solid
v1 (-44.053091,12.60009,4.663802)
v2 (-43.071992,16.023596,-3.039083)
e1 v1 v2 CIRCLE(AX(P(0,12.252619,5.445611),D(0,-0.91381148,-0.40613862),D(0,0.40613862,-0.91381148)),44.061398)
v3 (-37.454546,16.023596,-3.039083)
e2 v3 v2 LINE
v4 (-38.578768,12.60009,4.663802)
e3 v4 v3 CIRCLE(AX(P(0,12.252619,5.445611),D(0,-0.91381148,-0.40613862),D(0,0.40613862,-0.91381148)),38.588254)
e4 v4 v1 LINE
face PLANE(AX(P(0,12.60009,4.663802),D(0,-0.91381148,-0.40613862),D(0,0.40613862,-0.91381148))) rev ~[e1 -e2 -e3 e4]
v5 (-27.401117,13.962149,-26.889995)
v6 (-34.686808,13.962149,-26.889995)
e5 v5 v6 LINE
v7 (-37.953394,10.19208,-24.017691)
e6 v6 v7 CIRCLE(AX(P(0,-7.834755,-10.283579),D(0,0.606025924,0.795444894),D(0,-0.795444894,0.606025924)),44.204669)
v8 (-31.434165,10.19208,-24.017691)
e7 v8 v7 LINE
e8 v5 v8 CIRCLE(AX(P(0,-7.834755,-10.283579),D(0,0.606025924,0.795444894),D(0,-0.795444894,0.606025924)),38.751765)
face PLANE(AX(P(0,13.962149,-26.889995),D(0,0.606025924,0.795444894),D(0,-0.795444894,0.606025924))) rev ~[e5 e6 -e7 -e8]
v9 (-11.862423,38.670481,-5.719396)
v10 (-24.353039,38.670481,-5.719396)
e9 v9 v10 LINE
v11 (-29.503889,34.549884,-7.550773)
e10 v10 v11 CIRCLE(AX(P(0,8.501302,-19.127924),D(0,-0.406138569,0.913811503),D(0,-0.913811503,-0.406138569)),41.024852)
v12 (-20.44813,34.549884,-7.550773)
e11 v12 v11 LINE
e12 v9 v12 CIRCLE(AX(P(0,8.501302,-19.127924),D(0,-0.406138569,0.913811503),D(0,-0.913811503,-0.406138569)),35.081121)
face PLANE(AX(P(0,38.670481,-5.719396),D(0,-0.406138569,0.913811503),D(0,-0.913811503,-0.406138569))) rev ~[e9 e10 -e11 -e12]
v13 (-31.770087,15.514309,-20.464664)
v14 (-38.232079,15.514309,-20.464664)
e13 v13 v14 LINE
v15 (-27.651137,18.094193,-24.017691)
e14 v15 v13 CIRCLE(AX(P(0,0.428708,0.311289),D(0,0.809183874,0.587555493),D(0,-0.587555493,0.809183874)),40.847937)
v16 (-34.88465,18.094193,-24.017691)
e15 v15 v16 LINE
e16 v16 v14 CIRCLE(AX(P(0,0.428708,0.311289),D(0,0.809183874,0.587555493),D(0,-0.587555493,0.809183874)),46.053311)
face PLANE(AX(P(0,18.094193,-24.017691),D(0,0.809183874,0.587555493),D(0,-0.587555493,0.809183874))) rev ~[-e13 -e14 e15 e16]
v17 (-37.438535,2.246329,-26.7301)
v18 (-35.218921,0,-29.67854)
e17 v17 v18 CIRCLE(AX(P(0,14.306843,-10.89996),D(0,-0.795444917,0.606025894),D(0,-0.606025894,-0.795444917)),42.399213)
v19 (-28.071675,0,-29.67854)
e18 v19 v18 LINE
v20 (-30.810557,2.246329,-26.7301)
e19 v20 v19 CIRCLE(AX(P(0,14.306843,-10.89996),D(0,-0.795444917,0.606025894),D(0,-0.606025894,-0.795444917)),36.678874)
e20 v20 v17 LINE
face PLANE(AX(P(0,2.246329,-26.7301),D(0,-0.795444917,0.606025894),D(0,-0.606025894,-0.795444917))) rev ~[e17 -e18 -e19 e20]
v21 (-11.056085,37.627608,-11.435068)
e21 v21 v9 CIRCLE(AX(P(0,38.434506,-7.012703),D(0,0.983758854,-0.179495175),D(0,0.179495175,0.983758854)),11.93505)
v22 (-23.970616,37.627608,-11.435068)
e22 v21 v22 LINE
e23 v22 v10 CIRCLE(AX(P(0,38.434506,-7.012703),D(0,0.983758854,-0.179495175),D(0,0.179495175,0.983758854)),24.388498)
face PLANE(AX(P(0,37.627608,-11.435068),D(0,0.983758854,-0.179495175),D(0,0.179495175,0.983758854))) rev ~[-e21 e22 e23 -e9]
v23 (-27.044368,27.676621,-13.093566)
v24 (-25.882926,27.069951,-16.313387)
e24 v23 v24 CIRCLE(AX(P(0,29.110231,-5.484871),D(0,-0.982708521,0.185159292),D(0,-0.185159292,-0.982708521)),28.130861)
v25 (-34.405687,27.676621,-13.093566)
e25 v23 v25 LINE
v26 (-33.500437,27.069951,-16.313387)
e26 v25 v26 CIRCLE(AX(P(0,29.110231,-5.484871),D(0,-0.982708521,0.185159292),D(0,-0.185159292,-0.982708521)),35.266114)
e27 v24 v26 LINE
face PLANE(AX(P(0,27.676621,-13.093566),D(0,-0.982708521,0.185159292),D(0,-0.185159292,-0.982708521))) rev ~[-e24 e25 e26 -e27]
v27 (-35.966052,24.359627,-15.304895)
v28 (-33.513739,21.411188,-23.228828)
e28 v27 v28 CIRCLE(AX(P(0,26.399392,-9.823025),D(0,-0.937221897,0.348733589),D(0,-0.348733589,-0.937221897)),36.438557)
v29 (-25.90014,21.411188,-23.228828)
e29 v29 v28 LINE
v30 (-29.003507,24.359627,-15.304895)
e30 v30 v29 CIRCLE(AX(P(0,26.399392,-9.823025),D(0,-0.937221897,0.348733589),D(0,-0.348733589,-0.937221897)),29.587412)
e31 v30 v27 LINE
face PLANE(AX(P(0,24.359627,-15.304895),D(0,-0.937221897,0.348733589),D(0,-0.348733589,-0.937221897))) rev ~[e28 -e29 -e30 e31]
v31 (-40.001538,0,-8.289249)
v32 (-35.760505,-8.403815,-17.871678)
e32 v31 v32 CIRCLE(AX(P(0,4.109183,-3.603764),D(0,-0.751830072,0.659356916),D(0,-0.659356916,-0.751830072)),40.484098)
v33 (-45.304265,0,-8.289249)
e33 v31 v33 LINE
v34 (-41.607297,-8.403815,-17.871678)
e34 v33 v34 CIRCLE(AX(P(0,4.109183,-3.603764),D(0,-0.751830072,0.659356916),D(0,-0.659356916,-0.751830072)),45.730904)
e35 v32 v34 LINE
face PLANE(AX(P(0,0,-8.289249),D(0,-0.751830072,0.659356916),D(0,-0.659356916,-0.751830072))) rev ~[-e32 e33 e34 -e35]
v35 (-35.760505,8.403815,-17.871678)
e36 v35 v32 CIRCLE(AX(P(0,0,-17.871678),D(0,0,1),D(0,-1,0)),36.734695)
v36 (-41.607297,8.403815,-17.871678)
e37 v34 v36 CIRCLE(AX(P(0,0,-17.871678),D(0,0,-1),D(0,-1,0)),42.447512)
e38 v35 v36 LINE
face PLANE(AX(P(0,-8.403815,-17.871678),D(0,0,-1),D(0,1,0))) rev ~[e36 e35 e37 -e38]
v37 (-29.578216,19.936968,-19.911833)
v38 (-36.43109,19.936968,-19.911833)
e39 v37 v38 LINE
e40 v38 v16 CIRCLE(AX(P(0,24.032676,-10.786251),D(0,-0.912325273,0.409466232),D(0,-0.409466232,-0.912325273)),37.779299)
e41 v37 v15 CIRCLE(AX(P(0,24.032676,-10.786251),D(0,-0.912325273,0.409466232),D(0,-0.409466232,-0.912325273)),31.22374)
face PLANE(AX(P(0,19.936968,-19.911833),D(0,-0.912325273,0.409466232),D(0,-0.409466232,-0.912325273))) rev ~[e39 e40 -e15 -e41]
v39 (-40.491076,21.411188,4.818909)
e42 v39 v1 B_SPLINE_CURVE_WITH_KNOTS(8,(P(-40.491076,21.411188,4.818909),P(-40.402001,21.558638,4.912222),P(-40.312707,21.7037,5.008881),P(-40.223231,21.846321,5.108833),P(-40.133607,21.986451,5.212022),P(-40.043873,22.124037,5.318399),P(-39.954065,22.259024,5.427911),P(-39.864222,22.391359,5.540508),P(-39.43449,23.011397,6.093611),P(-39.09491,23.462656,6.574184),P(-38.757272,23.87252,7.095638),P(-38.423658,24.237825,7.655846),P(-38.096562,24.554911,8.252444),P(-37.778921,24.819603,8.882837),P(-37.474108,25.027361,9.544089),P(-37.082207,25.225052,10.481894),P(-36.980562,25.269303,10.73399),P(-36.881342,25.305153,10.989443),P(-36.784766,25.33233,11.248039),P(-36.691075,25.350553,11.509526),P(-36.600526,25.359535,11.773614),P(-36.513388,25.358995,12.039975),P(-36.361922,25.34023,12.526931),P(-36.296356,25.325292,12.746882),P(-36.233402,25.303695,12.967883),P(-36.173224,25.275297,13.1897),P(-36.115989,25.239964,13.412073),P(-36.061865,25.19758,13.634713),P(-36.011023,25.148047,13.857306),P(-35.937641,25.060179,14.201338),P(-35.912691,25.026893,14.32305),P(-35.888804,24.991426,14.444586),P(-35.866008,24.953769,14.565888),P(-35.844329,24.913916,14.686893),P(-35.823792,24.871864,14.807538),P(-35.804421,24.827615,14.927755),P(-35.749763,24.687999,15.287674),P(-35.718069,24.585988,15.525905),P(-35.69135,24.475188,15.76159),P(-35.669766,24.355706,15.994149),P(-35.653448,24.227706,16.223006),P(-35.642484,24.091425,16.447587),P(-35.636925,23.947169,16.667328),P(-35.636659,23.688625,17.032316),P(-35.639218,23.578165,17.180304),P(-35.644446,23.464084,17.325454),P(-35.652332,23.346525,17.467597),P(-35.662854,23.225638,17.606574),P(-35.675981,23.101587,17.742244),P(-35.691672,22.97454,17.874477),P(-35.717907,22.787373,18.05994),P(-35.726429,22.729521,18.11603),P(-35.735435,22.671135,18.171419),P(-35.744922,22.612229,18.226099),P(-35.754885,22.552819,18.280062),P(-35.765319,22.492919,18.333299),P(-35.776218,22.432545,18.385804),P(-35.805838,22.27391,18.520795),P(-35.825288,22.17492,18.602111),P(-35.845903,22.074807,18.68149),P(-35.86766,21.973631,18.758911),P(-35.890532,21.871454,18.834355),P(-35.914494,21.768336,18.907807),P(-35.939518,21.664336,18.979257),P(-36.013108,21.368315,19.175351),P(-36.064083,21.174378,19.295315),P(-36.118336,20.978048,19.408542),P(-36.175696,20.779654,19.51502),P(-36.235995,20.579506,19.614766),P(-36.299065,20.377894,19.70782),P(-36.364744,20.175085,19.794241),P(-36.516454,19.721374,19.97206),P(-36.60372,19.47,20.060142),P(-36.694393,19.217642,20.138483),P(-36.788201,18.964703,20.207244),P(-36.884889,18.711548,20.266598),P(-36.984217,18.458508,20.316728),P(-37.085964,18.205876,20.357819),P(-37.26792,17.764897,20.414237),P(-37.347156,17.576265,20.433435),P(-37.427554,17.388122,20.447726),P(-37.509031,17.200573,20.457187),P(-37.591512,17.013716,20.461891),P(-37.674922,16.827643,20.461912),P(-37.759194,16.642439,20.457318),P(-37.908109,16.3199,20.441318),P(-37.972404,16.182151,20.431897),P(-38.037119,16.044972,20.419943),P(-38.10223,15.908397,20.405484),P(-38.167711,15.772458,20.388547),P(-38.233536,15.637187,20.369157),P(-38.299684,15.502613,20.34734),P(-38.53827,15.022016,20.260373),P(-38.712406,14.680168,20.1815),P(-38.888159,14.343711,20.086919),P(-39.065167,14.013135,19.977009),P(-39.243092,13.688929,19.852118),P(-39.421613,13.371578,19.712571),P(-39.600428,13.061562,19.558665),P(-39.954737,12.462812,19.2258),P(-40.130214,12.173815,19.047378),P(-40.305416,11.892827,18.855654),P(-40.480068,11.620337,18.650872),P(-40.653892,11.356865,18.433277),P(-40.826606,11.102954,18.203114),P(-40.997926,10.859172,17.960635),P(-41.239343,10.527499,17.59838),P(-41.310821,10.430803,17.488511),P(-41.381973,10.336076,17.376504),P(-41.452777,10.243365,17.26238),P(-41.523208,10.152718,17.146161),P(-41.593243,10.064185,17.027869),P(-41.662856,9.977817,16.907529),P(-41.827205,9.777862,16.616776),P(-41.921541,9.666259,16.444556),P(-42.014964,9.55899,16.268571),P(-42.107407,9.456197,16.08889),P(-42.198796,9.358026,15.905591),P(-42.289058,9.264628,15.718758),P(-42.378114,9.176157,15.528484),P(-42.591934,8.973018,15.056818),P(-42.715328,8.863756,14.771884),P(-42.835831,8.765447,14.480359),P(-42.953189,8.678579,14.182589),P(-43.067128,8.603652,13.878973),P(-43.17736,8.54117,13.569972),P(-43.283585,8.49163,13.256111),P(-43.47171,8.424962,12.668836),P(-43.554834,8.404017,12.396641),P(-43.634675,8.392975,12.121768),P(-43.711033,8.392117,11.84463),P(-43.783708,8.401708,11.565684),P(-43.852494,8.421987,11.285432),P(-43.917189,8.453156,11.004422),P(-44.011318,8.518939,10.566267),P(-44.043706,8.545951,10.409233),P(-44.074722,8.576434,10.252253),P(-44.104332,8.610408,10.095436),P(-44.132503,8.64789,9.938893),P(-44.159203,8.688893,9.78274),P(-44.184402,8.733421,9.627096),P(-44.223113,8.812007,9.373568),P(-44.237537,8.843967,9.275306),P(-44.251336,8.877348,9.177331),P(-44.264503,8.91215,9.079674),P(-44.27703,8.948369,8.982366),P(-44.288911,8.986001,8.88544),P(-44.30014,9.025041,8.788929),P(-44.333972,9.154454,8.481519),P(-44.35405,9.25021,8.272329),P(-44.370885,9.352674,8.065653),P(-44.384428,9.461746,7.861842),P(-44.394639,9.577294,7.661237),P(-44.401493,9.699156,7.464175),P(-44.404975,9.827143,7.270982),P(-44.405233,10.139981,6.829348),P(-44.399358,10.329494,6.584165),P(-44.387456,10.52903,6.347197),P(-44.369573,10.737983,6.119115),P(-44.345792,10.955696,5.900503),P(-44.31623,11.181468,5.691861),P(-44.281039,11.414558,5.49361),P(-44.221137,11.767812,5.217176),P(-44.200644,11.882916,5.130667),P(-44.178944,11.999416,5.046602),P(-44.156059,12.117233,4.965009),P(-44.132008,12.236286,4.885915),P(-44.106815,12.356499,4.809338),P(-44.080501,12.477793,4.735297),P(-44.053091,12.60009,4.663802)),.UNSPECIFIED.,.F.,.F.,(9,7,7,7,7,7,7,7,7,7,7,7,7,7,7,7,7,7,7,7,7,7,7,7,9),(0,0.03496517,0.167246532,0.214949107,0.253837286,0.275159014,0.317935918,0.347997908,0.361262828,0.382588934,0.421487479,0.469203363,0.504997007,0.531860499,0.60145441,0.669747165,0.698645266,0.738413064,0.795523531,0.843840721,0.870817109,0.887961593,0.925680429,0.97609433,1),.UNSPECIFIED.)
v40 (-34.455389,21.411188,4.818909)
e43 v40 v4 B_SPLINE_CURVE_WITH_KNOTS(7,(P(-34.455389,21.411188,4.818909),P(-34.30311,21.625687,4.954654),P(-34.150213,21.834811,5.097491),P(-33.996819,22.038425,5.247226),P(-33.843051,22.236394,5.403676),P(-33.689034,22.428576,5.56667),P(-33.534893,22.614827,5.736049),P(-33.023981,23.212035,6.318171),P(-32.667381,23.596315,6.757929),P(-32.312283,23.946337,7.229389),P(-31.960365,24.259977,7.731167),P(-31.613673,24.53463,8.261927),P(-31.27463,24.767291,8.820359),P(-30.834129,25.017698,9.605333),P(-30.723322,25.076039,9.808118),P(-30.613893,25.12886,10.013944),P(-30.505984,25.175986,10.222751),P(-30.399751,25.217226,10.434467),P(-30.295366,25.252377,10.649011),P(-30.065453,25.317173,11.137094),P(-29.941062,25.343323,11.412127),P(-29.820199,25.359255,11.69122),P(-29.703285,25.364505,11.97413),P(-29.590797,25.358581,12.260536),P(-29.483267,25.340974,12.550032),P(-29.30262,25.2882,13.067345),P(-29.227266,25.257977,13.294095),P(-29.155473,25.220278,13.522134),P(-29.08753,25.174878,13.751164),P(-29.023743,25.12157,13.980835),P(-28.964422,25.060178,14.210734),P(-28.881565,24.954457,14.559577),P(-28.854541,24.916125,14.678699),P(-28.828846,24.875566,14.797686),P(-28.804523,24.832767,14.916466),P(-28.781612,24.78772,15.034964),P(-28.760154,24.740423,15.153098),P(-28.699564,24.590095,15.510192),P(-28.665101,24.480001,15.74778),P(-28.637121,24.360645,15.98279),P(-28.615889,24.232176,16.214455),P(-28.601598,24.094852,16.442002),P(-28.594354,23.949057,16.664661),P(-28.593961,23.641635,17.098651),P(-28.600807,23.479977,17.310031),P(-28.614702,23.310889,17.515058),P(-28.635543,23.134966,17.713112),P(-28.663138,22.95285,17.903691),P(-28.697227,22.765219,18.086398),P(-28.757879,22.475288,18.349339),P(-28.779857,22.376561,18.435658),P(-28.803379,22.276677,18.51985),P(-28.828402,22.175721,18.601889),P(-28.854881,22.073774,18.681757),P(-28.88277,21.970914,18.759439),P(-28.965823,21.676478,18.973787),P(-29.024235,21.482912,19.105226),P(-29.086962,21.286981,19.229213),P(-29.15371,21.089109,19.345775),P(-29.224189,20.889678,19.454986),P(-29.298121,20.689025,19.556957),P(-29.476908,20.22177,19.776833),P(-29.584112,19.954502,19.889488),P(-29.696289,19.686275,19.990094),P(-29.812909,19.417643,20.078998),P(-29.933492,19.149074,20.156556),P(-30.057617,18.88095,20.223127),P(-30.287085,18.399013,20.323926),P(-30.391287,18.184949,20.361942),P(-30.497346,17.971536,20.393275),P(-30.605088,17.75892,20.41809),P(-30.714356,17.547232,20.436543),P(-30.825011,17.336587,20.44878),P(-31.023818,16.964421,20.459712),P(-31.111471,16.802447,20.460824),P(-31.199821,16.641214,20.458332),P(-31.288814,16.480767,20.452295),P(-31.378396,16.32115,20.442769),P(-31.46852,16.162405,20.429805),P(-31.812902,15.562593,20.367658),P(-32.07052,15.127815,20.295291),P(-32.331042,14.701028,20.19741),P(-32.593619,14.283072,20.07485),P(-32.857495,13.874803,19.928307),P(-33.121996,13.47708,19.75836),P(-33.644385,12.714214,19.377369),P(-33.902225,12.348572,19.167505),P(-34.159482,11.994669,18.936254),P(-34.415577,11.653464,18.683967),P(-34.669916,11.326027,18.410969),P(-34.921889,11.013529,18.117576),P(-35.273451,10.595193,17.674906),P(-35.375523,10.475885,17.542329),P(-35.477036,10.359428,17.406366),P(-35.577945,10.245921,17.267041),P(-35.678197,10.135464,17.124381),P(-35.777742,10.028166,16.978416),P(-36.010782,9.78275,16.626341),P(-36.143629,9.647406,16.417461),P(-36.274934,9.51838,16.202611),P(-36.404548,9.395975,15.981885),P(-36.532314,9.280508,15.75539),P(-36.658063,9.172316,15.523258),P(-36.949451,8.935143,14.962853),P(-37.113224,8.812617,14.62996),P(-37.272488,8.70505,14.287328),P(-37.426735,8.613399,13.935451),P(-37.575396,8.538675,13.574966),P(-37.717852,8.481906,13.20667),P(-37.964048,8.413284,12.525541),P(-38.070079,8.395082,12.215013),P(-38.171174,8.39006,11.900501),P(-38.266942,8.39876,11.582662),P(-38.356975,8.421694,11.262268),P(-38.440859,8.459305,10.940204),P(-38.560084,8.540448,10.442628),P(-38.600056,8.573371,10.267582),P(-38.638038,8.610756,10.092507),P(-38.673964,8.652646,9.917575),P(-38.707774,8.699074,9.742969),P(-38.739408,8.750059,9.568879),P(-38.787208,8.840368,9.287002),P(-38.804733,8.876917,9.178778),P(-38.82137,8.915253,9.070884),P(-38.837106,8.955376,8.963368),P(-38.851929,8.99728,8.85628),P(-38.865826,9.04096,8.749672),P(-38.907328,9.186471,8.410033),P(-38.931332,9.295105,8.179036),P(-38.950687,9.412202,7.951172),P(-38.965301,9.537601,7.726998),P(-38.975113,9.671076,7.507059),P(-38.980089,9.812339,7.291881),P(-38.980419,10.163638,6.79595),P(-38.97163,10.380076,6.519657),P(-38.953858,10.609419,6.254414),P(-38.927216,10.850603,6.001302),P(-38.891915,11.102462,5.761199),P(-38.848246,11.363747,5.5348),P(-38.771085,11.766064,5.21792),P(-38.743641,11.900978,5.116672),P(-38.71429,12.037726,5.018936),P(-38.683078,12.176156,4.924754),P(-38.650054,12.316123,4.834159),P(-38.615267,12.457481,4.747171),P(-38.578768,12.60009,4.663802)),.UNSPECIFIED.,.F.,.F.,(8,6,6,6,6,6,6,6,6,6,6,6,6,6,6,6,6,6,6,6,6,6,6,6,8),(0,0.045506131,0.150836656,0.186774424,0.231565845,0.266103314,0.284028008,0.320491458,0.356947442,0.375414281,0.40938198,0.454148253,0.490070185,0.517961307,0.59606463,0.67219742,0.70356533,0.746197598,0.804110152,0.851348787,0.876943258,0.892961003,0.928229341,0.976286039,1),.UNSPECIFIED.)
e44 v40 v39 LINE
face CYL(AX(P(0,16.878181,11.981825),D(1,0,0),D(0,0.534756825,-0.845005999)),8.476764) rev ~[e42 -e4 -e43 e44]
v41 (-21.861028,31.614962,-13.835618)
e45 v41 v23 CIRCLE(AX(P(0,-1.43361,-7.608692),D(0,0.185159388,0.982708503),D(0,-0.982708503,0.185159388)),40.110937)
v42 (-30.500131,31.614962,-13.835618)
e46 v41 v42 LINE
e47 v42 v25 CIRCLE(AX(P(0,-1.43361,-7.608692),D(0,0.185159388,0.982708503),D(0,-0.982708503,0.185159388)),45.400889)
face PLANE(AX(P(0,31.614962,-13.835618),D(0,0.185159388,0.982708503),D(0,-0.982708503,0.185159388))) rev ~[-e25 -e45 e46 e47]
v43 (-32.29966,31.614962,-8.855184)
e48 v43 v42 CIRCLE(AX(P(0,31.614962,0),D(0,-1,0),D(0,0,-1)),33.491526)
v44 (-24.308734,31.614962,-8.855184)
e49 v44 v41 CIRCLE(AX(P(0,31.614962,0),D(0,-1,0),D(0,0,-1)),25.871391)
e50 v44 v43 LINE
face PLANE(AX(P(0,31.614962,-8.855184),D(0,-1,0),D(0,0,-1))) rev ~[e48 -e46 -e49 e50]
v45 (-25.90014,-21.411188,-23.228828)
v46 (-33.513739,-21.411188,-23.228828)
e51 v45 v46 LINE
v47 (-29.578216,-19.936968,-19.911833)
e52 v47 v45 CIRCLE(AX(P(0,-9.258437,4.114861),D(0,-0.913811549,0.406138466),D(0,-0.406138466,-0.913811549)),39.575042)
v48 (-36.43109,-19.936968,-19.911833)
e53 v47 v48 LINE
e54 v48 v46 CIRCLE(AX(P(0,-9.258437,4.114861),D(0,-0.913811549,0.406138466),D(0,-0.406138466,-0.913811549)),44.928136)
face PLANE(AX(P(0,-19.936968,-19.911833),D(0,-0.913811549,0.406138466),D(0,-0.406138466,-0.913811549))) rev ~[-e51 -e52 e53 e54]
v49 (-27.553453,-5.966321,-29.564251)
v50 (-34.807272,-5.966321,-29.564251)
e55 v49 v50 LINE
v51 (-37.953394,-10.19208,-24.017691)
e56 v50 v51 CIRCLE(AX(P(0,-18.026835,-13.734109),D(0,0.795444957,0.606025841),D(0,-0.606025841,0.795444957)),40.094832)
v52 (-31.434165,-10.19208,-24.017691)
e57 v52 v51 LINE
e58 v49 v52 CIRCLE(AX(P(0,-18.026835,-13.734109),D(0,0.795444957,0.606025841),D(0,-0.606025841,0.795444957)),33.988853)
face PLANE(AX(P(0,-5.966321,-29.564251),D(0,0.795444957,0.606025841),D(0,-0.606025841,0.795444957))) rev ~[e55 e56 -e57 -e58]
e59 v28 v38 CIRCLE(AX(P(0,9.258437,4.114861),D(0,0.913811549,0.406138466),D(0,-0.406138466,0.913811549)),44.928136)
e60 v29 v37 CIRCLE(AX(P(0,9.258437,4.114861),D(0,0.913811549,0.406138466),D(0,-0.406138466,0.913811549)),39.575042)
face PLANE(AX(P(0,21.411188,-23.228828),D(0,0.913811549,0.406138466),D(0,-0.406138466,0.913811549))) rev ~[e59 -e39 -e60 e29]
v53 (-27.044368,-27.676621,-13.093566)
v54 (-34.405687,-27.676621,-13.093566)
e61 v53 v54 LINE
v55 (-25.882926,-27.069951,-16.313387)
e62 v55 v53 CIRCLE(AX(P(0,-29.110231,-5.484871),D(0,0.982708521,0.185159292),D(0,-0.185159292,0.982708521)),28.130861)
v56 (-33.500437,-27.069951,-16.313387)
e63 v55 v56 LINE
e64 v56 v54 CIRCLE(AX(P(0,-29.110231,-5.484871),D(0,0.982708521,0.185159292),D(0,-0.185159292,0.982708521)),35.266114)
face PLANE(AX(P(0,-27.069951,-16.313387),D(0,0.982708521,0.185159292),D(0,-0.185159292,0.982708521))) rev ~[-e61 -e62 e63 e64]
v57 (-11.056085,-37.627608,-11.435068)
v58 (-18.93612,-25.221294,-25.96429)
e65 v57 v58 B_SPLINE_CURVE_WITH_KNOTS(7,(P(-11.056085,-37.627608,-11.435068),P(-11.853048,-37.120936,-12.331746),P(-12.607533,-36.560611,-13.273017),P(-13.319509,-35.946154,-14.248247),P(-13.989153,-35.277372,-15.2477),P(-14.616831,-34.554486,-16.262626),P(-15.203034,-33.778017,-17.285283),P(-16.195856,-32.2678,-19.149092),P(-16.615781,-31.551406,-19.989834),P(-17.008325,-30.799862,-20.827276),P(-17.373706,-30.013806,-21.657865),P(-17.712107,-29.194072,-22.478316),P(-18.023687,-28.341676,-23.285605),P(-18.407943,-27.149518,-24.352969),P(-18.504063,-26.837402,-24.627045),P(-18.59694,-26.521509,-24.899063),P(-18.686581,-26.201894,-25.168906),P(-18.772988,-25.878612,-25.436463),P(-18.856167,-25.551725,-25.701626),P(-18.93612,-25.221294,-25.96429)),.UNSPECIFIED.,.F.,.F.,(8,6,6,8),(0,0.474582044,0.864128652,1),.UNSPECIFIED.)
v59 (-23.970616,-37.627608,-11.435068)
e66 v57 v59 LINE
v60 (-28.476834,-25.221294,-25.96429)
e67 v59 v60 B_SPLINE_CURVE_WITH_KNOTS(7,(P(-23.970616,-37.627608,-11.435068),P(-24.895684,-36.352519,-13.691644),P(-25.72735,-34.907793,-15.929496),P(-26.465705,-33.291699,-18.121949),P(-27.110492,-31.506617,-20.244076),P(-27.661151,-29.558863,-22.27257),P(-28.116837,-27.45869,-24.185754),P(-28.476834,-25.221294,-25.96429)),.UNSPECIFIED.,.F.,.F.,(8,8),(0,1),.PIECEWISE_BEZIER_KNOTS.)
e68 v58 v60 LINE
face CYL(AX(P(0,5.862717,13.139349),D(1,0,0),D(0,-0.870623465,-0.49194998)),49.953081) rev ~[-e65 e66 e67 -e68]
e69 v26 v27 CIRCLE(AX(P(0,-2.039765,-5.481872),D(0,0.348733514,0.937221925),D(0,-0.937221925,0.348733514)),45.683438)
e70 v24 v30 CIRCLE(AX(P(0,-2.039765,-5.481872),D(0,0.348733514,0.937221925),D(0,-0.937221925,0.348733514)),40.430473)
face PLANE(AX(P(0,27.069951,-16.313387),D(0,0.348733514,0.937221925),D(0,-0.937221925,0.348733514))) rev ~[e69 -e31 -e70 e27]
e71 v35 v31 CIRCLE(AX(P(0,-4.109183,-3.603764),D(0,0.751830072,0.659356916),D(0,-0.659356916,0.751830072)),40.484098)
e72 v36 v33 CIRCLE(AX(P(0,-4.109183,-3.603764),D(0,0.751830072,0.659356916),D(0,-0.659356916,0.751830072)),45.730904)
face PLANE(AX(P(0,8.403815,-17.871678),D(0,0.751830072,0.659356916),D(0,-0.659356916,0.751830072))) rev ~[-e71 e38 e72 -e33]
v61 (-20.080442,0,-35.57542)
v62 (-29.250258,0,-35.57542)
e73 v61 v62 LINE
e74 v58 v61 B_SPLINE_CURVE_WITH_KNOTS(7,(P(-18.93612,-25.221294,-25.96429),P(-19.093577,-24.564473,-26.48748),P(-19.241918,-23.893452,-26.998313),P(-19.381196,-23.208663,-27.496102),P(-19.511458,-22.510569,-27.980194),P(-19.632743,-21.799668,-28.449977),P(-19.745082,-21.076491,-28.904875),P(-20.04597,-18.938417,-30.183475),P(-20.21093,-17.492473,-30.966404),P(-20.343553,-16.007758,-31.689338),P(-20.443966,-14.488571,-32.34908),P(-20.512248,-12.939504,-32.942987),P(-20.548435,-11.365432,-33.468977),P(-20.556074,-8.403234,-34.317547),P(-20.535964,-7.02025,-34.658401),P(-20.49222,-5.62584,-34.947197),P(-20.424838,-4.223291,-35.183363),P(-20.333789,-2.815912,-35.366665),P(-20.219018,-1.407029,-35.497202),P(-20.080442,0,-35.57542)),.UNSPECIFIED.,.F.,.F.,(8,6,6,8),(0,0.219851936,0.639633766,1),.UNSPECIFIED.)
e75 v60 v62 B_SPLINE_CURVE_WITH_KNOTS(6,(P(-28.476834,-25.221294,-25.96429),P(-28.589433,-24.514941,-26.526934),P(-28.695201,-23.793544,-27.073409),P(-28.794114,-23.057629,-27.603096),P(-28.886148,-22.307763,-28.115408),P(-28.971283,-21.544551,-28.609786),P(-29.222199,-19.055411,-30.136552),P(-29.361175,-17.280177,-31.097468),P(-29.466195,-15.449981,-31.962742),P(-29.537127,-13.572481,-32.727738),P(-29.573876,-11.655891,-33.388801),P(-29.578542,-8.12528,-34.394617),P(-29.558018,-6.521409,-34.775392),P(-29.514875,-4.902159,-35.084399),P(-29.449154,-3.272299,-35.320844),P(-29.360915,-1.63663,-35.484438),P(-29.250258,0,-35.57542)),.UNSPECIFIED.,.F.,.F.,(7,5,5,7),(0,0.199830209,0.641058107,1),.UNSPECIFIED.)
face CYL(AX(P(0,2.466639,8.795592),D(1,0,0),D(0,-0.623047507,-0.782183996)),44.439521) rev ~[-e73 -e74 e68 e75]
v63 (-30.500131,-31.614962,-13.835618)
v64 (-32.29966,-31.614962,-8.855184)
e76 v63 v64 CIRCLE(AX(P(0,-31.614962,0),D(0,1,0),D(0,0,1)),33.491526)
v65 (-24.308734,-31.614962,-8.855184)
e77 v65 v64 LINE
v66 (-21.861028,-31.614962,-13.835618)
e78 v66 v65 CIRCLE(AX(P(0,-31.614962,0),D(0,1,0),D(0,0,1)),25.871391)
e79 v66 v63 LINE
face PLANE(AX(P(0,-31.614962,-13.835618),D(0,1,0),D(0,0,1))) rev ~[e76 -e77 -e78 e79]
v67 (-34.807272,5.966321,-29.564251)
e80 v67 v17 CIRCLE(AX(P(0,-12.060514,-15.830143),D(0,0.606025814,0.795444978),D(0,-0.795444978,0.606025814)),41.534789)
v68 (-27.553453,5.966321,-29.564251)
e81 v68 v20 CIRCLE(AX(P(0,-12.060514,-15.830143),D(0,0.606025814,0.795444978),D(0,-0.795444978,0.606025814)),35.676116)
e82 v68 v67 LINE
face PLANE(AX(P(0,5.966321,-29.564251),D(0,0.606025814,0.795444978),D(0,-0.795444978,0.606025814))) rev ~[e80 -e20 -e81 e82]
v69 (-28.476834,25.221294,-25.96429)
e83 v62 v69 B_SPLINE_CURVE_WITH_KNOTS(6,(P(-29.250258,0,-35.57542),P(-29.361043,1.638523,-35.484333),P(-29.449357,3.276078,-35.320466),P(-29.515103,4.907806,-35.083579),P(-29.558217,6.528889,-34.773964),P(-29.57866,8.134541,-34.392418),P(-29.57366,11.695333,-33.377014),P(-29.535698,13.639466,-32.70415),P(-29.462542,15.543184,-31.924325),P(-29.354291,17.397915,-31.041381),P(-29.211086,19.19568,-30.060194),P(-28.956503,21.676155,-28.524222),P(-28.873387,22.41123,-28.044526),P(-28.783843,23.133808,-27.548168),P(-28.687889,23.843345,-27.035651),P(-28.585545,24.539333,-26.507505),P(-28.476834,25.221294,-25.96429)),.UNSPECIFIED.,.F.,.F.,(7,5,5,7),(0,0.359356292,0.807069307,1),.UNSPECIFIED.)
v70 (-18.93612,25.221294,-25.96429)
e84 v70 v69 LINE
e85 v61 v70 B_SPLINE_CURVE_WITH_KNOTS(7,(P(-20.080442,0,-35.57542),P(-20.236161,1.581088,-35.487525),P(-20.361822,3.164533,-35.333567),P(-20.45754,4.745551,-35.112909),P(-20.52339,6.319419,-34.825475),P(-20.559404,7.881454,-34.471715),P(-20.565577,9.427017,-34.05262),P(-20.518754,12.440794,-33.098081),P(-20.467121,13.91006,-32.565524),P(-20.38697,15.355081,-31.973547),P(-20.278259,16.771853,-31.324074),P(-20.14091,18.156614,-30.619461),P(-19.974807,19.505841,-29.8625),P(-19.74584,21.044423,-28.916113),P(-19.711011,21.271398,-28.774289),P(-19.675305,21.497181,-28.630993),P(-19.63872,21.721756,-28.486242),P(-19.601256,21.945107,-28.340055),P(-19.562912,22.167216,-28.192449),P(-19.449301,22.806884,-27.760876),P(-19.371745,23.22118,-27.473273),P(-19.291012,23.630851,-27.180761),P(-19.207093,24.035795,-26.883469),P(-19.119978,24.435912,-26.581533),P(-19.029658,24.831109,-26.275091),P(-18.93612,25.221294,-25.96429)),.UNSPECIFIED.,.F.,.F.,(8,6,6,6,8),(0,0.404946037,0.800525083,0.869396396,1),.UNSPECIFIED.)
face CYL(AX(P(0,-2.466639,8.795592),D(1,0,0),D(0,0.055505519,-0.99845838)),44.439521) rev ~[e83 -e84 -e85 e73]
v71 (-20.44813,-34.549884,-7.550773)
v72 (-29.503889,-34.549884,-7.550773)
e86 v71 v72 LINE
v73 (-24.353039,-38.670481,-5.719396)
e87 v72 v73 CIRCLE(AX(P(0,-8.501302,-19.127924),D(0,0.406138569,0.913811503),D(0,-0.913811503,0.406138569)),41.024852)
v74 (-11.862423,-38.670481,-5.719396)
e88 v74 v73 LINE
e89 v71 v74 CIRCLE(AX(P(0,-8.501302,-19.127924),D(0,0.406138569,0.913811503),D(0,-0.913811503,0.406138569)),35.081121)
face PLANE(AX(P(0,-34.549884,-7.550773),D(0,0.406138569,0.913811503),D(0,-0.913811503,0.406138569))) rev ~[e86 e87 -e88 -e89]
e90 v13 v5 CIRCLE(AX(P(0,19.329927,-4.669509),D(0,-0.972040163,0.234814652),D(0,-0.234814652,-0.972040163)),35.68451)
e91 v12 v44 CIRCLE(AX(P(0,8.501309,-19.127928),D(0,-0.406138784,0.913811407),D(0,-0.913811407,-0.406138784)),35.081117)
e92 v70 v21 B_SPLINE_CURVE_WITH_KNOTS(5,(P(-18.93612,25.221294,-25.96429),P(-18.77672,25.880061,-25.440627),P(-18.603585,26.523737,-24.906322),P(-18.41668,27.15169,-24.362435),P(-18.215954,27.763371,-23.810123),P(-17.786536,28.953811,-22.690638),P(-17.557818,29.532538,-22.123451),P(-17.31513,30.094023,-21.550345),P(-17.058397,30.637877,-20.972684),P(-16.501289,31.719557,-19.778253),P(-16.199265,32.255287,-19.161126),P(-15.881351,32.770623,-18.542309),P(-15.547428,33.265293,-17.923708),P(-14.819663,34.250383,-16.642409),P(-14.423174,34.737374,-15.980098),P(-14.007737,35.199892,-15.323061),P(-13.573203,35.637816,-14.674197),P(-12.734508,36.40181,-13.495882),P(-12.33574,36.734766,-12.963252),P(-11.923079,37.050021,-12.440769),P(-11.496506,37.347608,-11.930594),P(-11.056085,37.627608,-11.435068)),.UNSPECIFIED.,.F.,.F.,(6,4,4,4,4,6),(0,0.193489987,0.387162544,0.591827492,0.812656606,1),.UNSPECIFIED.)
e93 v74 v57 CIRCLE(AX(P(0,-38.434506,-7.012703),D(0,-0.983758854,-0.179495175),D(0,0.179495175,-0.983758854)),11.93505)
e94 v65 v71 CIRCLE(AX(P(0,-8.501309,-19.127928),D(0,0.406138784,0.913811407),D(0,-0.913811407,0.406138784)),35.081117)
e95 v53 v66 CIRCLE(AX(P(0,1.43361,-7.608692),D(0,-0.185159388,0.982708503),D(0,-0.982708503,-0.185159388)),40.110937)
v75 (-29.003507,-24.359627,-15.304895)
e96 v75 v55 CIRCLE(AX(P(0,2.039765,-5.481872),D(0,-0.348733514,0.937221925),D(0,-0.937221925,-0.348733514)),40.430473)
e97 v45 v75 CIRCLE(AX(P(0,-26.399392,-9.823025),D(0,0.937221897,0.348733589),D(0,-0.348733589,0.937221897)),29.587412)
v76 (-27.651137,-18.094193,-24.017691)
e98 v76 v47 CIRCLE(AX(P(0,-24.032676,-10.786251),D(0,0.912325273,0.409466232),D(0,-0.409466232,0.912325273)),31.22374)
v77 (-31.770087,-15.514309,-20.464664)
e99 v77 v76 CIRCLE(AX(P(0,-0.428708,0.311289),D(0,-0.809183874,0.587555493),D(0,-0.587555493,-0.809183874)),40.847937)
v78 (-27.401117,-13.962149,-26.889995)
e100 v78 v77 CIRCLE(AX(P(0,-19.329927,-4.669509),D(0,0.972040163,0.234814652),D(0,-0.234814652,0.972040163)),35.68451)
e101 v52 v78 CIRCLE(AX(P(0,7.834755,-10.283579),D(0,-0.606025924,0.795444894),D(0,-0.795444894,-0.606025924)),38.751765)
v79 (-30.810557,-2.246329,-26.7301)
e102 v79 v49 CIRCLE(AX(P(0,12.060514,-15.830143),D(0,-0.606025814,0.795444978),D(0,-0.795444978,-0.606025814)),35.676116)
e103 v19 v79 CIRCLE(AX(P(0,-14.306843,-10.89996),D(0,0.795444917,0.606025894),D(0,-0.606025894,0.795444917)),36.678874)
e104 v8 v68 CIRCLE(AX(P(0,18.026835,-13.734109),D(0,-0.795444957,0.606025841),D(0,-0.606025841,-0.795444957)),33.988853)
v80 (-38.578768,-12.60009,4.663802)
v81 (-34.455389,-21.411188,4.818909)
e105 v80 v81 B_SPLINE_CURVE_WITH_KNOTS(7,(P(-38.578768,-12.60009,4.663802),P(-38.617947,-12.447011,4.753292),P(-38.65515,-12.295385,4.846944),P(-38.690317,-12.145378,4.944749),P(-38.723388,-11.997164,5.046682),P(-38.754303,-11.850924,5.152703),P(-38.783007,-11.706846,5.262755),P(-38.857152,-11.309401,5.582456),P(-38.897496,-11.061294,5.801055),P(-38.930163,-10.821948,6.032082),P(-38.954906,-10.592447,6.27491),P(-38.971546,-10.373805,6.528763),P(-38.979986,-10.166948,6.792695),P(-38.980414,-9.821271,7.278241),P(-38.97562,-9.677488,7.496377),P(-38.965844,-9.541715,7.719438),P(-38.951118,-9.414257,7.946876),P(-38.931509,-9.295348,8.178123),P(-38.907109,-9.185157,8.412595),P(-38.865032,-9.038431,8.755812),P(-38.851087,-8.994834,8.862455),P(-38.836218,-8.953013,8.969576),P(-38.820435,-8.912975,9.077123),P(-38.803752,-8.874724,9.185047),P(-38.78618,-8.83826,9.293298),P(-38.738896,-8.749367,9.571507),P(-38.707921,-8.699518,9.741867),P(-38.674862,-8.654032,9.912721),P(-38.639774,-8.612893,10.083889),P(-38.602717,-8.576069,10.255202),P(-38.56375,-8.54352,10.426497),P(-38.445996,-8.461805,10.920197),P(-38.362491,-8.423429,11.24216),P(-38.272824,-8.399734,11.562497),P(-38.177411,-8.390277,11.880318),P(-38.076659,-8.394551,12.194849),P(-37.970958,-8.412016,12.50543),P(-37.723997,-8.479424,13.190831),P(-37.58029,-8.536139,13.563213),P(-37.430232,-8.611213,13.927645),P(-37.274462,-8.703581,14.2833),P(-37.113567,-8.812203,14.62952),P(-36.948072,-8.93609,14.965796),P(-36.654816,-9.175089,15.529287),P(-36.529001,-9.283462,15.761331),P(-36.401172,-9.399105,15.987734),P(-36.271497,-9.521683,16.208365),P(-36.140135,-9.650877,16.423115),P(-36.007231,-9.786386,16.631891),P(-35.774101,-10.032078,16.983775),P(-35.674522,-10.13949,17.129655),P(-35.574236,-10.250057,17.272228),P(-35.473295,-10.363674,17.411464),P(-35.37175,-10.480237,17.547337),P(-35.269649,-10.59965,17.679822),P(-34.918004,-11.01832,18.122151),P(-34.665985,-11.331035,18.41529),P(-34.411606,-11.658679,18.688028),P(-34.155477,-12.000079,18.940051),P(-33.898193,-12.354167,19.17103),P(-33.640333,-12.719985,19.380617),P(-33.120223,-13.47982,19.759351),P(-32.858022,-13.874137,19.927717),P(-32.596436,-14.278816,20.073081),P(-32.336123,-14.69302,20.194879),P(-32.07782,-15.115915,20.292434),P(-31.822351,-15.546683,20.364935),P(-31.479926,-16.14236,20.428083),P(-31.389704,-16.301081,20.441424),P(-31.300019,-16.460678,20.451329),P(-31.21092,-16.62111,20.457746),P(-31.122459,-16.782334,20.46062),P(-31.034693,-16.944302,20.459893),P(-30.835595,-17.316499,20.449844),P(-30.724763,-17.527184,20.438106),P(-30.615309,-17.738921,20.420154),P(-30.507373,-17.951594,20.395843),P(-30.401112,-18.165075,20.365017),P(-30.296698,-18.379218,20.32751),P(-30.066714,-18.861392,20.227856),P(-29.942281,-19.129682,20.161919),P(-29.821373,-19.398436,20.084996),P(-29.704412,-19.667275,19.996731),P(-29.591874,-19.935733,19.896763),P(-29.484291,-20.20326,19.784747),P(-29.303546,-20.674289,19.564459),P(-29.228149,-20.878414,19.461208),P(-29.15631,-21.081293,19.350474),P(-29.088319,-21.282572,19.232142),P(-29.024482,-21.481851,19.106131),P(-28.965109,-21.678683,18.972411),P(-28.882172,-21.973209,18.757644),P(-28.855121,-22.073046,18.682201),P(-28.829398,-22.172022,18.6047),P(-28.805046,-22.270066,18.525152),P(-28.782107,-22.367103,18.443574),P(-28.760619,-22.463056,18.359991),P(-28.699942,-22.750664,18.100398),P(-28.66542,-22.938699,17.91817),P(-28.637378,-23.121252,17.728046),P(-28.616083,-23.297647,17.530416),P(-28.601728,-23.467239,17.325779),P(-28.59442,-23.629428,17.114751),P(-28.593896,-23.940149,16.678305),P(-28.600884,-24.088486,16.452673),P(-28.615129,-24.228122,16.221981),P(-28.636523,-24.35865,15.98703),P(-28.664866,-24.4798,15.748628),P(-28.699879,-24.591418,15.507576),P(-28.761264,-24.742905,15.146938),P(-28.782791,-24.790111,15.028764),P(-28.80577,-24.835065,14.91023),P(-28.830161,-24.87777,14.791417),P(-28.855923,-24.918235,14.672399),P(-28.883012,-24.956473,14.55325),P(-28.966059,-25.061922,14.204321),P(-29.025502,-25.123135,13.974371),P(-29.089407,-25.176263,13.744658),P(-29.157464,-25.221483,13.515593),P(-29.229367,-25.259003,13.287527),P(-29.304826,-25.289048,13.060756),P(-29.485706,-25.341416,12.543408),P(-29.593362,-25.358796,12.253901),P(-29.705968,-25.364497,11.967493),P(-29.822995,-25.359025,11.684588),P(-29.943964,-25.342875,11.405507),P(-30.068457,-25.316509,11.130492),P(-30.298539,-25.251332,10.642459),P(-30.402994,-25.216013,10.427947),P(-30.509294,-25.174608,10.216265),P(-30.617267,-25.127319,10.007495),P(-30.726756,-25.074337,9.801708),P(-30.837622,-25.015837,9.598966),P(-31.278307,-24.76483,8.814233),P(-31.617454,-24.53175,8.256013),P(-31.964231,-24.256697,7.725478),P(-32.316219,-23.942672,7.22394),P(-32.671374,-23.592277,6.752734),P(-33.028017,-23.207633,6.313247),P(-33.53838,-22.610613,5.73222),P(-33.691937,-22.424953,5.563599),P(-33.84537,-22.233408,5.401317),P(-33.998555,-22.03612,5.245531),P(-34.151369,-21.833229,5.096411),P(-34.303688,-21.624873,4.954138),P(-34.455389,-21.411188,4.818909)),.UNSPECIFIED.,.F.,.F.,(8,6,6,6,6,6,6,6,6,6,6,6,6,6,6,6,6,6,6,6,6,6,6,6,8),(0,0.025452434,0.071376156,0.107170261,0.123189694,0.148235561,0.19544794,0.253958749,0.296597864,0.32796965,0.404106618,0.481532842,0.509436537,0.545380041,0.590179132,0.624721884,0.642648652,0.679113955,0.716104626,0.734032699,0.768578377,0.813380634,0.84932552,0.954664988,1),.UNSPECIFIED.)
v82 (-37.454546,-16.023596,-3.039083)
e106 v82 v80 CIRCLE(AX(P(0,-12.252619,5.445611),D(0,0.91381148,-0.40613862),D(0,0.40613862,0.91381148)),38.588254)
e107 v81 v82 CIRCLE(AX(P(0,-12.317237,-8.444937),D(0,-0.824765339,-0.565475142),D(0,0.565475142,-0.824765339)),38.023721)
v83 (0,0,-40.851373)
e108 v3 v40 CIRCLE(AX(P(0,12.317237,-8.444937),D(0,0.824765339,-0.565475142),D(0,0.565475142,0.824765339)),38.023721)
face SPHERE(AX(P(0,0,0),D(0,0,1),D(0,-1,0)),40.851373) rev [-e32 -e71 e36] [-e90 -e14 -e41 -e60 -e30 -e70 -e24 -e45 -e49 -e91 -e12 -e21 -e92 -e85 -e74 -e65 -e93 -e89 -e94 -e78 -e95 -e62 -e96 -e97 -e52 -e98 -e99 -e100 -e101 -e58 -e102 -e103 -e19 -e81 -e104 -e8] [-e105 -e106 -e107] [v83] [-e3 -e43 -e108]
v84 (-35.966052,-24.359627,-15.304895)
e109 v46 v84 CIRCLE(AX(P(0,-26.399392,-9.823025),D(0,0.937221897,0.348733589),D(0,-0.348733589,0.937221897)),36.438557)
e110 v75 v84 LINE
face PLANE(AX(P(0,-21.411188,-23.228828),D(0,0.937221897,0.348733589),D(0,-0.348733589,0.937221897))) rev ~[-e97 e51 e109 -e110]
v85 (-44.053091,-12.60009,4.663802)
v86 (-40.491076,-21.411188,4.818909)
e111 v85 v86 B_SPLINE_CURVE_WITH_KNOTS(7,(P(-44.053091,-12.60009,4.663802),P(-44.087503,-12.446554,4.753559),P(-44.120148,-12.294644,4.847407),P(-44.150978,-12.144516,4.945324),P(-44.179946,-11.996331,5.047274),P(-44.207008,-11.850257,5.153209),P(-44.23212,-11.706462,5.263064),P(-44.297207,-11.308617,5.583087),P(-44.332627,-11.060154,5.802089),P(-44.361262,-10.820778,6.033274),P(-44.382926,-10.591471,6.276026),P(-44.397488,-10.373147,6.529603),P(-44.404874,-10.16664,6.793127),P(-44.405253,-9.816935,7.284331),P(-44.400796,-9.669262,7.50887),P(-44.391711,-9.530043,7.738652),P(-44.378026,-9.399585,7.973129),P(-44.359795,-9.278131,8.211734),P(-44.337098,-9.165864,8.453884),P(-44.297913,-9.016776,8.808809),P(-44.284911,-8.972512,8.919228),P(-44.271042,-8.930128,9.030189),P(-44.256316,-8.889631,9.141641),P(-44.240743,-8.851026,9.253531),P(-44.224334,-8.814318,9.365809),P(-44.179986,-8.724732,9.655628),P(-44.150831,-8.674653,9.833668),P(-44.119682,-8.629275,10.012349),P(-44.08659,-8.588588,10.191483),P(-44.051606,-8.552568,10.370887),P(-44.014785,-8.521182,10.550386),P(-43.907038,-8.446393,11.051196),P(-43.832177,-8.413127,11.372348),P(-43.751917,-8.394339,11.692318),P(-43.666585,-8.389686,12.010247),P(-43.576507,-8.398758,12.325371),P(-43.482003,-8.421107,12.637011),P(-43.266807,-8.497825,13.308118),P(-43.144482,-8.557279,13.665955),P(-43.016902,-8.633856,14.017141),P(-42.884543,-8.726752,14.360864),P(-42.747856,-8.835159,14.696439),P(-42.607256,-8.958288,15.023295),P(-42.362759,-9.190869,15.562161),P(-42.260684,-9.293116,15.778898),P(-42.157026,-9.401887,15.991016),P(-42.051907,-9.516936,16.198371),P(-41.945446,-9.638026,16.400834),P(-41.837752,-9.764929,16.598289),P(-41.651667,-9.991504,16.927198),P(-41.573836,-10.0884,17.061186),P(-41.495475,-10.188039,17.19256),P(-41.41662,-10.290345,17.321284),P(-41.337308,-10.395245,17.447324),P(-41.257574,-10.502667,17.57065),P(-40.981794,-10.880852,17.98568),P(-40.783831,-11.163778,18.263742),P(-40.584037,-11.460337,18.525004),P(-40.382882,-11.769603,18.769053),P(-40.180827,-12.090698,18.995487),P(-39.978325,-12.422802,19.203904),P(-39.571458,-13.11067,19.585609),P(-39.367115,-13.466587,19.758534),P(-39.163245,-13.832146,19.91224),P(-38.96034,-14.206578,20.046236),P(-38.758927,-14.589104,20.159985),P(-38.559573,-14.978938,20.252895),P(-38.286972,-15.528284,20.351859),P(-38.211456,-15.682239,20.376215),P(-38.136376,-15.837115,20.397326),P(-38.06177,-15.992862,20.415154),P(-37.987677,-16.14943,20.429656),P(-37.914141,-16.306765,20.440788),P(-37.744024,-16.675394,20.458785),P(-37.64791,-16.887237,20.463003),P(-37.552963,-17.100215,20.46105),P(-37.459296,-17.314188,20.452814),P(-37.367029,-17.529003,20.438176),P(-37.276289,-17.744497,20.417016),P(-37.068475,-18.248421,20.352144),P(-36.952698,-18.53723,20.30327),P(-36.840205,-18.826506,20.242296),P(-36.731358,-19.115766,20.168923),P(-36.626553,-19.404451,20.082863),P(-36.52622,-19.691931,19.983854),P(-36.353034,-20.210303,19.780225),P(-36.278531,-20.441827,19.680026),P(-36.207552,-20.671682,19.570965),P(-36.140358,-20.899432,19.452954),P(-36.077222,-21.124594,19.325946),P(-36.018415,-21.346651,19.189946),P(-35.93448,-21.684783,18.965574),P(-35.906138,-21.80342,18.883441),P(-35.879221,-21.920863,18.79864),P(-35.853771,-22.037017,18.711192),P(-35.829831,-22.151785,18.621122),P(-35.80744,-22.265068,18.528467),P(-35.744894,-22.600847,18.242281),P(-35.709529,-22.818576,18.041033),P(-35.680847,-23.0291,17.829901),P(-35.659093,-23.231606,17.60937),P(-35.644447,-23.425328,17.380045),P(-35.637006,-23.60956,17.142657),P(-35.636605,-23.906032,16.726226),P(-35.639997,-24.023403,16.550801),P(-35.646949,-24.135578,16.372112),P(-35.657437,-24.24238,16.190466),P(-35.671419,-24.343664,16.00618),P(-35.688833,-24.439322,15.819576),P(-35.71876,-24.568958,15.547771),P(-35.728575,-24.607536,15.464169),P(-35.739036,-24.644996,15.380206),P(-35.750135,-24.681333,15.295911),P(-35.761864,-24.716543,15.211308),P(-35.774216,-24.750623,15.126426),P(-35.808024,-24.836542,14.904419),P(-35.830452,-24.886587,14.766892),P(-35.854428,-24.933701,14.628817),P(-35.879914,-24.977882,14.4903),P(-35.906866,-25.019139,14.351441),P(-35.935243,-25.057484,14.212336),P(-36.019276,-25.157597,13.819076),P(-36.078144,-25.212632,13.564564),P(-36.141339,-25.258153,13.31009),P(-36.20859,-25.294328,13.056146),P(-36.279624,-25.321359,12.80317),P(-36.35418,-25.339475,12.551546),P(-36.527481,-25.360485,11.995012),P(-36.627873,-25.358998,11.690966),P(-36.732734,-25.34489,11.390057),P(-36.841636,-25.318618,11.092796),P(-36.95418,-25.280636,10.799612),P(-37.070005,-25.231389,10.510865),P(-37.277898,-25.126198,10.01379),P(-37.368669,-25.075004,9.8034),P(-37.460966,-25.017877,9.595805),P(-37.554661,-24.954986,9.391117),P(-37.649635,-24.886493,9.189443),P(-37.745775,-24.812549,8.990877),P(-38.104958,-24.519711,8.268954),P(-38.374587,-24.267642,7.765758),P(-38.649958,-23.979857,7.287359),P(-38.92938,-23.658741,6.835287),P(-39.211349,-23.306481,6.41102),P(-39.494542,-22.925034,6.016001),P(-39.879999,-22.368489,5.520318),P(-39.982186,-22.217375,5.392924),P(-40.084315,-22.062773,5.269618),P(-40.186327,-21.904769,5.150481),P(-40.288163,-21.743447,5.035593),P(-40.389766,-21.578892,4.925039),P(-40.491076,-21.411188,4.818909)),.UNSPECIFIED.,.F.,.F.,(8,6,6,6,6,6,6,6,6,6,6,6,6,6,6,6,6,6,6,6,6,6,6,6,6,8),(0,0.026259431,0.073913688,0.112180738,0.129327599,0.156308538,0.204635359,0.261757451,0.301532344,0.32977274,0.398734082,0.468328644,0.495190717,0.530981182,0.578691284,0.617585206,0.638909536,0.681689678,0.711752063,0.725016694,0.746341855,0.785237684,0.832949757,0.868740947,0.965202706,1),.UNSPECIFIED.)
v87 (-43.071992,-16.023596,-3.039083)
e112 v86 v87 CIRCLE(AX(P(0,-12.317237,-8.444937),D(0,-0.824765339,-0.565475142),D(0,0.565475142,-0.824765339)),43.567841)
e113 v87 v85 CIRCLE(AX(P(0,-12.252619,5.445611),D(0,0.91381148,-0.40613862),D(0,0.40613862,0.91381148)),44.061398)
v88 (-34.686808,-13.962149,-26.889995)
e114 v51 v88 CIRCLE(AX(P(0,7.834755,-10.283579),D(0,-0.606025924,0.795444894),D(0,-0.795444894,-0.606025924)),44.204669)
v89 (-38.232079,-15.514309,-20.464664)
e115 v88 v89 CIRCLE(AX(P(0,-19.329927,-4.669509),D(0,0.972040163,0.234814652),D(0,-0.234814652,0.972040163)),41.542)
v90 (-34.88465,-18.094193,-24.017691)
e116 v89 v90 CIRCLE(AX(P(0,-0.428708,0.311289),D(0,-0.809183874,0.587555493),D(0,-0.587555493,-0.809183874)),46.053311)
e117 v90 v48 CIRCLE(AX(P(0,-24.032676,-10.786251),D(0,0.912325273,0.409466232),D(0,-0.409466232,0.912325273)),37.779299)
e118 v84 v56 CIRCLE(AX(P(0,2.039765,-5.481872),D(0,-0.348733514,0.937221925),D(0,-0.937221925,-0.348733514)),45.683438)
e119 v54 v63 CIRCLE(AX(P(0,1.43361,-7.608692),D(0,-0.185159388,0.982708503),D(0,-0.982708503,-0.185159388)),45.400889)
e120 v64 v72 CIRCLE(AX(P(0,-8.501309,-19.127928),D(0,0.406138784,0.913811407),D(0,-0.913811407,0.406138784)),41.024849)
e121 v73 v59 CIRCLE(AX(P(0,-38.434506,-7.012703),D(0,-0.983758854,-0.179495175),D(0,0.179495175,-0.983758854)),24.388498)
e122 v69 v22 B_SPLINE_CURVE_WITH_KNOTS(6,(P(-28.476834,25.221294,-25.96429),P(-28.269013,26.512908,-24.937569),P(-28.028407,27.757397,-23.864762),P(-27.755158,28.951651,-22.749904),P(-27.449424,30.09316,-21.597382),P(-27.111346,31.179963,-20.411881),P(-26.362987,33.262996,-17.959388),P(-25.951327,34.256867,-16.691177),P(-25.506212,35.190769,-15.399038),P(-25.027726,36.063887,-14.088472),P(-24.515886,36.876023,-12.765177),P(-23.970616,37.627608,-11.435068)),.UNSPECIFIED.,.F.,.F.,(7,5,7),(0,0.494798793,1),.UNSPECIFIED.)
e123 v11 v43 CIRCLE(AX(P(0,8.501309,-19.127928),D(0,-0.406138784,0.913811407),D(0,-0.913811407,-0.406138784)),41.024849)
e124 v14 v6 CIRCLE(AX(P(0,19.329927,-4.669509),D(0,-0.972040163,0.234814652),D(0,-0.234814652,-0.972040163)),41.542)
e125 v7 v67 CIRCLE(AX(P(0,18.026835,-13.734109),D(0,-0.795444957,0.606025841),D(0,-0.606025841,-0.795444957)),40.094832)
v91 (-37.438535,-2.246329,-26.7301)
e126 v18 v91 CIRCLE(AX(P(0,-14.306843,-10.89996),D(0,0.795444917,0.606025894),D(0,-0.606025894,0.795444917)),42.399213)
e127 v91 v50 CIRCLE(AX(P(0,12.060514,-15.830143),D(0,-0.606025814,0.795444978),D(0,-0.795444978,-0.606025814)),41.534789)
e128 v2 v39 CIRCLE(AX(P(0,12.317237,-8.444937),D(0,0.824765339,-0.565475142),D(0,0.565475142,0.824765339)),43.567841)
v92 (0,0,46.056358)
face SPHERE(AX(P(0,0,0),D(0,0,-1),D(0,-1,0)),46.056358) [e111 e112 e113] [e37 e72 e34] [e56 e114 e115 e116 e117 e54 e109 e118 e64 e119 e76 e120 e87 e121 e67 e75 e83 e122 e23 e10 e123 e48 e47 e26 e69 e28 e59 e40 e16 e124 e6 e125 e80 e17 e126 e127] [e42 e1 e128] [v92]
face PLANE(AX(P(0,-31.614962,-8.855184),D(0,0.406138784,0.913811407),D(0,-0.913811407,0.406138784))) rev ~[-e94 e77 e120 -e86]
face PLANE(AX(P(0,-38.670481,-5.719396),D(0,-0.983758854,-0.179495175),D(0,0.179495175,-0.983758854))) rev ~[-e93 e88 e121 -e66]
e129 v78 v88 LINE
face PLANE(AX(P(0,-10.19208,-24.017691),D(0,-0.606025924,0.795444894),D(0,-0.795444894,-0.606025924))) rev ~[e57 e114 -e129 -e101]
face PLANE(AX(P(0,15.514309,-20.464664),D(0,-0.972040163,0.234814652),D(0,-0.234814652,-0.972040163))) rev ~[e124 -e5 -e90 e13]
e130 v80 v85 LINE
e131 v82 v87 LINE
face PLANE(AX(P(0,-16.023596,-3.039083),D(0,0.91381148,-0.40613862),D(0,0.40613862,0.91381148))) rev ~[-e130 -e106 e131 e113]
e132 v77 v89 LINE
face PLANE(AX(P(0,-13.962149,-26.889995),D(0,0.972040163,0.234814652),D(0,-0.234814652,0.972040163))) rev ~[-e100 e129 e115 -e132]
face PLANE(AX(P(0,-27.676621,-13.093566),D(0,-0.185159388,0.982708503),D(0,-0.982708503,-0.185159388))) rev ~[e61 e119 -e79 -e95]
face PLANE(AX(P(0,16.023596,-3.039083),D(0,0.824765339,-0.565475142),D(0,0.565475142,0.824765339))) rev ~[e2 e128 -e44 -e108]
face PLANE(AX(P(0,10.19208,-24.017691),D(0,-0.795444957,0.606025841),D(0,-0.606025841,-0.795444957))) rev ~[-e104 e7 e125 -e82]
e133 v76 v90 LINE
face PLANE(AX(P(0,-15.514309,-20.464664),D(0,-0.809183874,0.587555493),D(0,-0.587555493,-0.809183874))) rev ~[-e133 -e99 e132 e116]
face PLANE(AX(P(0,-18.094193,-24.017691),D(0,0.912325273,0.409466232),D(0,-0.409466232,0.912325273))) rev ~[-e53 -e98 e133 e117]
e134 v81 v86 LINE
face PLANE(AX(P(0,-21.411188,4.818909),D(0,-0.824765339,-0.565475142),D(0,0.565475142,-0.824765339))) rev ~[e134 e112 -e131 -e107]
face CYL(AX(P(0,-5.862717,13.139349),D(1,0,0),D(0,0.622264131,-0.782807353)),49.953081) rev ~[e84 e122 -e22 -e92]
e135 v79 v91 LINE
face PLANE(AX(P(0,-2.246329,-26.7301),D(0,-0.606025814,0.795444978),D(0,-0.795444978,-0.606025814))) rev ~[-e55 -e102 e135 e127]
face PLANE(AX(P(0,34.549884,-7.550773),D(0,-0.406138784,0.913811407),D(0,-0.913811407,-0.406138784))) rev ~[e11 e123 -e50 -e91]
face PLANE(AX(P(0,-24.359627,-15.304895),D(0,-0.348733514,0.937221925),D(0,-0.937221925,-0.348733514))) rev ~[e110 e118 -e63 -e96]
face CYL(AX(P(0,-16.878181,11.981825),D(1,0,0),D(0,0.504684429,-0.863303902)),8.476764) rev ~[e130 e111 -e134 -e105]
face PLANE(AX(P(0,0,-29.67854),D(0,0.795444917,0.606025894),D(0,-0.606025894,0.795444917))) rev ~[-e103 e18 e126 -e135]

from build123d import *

# Parameters (mm, degrees)
F3_DEPTH = 96.774


with BuildPart() as f1:
    # F0 (on Right) → F1 (revolve)
    with BuildSketch(Plane.YZ):
        with BuildLine():
            Line((0, 40.851373), (0, 46.056358))
            ThreePointArc((0, 46.056358), (-46.056358, 0), (0, -46.056358))
            Line((0, -46.056358), (0, -40.851373))
            ThreePointArc((0, -40.851373), (-40.851373, 0), (0, 40.851373))
        make_face()
    revolve(axis=Axis((0, 0, 0), (0, 0, -1)))

    # F2 (on Right) → F3 (cut)
    with BuildSketch(Plane.YZ):
        with BuildLine():
            Line((16.023596, -3.039083), (21.411188, 4.818909))
            ThreePointArc((21.411188, 4.818909), (16.728984, 20.457276), (12.60009, 4.663802))
            Line((12.60009, 4.663802), (16.023596, -3.039083))
        make_face()
        Polygon((8.403815, -17.871678), (0, -8.289249), (-8.403815, -17.871678), (0, -17.871678), align=None)
        with BuildLine():
            Line((2.246329, -26.7301), (0, -29.67854))
            Line((0, -29.67854), (-2.246329, -26.7301))
            Line((-2.246329, -26.7301), (-5.966321, -29.564251))
            Line((-5.966321, -29.564251), (-10.19208, -24.017691))
            Line((-10.19208, -24.017691), (-13.962149, -26.889995))
            Line((-13.962149, -26.889995), (-15.514309, -20.464664))
            Line((-15.514309, -20.464664), (-18.094193, -24.017691))
            Line((-18.094193, -24.017691), (-19.936968, -19.911833))
            Line((-19.936968, -19.911833), (-21.411188, -23.228828))
            Line((-21.411188, -23.228828), (-24.359627, -15.304895))
            Line((-24.359627, -15.304895), (-27.069951, -16.313387))
            Line((-27.069951, -16.313387), (-27.676621, -13.093566))
            Line((-27.676621, -13.093566), (-31.614962, -13.835618))
            Line((-31.614962, -13.835618), (-31.614962, -8.855184))
            Line((-31.614962, -8.855184), (-34.549884, -7.550773))
            Line((-34.549884, -7.550773), (-38.670481, -5.719396))
            Line((-38.670481, -5.719396), (-37.627608, -11.435068))
            ThreePointArc((-37.627608, -11.435068), (-32.125537, -19.298328), (-25.221294, -25.96429))
            ThreePointArc((-25.221294, -25.96429), (-13.357962, -32.730942), (0, -35.57542))
            ThreePointArc((0, -35.57542), (13.357962, -32.730942), (25.221294, -25.96429))
            ThreePointArc((25.221294, -25.96429), (32.125537, -19.298328), (37.627608, -11.435068))
            Line((37.627608, -11.435068), (38.670481, -5.719396))
            Line((38.670481, -5.719396), (34.549884, -7.550773))
            Line((34.549884, -7.550773), (31.614962, -8.855184))
            Line((31.614962, -8.855184), (31.614962, -13.835618))
            Line((31.614962, -13.835618), (27.676621, -13.093566))
            Line((27.676621, -13.093566), (27.069951, -16.313387))
            Line((27.069951, -16.313387), (24.359627, -15.304895))
            Line((24.359627, -15.304895), (21.411188, -23.228828))
            Line((21.411188, -23.228828), (19.936968, -19.911833))
            Line((19.936968, -19.911833), (18.094193, -24.017691))
            Line((18.094193, -24.017691), (15.514309, -20.464664))
            Line((15.514309, -20.464664), (13.962149, -26.889995))
            Line((13.962149, -26.889995), (10.19208, -24.017691))
            Line((10.19208, -24.017691), (5.966321, -29.564251))
            Line((5.966321, -29.564251), (2.246329, -26.7301))
        make_face()
        with BuildLine():
            ThreePointArc((-12.60009, 4.663802), (-16.728984, 20.457276), (-21.411188, 4.818909))
            Line((-21.411188, 4.818909), (-16.023596, -3.039083))
            Line((-16.023596, -3.039083), (-12.60009, 4.663802))
        make_face()
    extrude(amount=-F3_DEPTH, mode=Mode.SUBTRACT)


solid = f1.part
